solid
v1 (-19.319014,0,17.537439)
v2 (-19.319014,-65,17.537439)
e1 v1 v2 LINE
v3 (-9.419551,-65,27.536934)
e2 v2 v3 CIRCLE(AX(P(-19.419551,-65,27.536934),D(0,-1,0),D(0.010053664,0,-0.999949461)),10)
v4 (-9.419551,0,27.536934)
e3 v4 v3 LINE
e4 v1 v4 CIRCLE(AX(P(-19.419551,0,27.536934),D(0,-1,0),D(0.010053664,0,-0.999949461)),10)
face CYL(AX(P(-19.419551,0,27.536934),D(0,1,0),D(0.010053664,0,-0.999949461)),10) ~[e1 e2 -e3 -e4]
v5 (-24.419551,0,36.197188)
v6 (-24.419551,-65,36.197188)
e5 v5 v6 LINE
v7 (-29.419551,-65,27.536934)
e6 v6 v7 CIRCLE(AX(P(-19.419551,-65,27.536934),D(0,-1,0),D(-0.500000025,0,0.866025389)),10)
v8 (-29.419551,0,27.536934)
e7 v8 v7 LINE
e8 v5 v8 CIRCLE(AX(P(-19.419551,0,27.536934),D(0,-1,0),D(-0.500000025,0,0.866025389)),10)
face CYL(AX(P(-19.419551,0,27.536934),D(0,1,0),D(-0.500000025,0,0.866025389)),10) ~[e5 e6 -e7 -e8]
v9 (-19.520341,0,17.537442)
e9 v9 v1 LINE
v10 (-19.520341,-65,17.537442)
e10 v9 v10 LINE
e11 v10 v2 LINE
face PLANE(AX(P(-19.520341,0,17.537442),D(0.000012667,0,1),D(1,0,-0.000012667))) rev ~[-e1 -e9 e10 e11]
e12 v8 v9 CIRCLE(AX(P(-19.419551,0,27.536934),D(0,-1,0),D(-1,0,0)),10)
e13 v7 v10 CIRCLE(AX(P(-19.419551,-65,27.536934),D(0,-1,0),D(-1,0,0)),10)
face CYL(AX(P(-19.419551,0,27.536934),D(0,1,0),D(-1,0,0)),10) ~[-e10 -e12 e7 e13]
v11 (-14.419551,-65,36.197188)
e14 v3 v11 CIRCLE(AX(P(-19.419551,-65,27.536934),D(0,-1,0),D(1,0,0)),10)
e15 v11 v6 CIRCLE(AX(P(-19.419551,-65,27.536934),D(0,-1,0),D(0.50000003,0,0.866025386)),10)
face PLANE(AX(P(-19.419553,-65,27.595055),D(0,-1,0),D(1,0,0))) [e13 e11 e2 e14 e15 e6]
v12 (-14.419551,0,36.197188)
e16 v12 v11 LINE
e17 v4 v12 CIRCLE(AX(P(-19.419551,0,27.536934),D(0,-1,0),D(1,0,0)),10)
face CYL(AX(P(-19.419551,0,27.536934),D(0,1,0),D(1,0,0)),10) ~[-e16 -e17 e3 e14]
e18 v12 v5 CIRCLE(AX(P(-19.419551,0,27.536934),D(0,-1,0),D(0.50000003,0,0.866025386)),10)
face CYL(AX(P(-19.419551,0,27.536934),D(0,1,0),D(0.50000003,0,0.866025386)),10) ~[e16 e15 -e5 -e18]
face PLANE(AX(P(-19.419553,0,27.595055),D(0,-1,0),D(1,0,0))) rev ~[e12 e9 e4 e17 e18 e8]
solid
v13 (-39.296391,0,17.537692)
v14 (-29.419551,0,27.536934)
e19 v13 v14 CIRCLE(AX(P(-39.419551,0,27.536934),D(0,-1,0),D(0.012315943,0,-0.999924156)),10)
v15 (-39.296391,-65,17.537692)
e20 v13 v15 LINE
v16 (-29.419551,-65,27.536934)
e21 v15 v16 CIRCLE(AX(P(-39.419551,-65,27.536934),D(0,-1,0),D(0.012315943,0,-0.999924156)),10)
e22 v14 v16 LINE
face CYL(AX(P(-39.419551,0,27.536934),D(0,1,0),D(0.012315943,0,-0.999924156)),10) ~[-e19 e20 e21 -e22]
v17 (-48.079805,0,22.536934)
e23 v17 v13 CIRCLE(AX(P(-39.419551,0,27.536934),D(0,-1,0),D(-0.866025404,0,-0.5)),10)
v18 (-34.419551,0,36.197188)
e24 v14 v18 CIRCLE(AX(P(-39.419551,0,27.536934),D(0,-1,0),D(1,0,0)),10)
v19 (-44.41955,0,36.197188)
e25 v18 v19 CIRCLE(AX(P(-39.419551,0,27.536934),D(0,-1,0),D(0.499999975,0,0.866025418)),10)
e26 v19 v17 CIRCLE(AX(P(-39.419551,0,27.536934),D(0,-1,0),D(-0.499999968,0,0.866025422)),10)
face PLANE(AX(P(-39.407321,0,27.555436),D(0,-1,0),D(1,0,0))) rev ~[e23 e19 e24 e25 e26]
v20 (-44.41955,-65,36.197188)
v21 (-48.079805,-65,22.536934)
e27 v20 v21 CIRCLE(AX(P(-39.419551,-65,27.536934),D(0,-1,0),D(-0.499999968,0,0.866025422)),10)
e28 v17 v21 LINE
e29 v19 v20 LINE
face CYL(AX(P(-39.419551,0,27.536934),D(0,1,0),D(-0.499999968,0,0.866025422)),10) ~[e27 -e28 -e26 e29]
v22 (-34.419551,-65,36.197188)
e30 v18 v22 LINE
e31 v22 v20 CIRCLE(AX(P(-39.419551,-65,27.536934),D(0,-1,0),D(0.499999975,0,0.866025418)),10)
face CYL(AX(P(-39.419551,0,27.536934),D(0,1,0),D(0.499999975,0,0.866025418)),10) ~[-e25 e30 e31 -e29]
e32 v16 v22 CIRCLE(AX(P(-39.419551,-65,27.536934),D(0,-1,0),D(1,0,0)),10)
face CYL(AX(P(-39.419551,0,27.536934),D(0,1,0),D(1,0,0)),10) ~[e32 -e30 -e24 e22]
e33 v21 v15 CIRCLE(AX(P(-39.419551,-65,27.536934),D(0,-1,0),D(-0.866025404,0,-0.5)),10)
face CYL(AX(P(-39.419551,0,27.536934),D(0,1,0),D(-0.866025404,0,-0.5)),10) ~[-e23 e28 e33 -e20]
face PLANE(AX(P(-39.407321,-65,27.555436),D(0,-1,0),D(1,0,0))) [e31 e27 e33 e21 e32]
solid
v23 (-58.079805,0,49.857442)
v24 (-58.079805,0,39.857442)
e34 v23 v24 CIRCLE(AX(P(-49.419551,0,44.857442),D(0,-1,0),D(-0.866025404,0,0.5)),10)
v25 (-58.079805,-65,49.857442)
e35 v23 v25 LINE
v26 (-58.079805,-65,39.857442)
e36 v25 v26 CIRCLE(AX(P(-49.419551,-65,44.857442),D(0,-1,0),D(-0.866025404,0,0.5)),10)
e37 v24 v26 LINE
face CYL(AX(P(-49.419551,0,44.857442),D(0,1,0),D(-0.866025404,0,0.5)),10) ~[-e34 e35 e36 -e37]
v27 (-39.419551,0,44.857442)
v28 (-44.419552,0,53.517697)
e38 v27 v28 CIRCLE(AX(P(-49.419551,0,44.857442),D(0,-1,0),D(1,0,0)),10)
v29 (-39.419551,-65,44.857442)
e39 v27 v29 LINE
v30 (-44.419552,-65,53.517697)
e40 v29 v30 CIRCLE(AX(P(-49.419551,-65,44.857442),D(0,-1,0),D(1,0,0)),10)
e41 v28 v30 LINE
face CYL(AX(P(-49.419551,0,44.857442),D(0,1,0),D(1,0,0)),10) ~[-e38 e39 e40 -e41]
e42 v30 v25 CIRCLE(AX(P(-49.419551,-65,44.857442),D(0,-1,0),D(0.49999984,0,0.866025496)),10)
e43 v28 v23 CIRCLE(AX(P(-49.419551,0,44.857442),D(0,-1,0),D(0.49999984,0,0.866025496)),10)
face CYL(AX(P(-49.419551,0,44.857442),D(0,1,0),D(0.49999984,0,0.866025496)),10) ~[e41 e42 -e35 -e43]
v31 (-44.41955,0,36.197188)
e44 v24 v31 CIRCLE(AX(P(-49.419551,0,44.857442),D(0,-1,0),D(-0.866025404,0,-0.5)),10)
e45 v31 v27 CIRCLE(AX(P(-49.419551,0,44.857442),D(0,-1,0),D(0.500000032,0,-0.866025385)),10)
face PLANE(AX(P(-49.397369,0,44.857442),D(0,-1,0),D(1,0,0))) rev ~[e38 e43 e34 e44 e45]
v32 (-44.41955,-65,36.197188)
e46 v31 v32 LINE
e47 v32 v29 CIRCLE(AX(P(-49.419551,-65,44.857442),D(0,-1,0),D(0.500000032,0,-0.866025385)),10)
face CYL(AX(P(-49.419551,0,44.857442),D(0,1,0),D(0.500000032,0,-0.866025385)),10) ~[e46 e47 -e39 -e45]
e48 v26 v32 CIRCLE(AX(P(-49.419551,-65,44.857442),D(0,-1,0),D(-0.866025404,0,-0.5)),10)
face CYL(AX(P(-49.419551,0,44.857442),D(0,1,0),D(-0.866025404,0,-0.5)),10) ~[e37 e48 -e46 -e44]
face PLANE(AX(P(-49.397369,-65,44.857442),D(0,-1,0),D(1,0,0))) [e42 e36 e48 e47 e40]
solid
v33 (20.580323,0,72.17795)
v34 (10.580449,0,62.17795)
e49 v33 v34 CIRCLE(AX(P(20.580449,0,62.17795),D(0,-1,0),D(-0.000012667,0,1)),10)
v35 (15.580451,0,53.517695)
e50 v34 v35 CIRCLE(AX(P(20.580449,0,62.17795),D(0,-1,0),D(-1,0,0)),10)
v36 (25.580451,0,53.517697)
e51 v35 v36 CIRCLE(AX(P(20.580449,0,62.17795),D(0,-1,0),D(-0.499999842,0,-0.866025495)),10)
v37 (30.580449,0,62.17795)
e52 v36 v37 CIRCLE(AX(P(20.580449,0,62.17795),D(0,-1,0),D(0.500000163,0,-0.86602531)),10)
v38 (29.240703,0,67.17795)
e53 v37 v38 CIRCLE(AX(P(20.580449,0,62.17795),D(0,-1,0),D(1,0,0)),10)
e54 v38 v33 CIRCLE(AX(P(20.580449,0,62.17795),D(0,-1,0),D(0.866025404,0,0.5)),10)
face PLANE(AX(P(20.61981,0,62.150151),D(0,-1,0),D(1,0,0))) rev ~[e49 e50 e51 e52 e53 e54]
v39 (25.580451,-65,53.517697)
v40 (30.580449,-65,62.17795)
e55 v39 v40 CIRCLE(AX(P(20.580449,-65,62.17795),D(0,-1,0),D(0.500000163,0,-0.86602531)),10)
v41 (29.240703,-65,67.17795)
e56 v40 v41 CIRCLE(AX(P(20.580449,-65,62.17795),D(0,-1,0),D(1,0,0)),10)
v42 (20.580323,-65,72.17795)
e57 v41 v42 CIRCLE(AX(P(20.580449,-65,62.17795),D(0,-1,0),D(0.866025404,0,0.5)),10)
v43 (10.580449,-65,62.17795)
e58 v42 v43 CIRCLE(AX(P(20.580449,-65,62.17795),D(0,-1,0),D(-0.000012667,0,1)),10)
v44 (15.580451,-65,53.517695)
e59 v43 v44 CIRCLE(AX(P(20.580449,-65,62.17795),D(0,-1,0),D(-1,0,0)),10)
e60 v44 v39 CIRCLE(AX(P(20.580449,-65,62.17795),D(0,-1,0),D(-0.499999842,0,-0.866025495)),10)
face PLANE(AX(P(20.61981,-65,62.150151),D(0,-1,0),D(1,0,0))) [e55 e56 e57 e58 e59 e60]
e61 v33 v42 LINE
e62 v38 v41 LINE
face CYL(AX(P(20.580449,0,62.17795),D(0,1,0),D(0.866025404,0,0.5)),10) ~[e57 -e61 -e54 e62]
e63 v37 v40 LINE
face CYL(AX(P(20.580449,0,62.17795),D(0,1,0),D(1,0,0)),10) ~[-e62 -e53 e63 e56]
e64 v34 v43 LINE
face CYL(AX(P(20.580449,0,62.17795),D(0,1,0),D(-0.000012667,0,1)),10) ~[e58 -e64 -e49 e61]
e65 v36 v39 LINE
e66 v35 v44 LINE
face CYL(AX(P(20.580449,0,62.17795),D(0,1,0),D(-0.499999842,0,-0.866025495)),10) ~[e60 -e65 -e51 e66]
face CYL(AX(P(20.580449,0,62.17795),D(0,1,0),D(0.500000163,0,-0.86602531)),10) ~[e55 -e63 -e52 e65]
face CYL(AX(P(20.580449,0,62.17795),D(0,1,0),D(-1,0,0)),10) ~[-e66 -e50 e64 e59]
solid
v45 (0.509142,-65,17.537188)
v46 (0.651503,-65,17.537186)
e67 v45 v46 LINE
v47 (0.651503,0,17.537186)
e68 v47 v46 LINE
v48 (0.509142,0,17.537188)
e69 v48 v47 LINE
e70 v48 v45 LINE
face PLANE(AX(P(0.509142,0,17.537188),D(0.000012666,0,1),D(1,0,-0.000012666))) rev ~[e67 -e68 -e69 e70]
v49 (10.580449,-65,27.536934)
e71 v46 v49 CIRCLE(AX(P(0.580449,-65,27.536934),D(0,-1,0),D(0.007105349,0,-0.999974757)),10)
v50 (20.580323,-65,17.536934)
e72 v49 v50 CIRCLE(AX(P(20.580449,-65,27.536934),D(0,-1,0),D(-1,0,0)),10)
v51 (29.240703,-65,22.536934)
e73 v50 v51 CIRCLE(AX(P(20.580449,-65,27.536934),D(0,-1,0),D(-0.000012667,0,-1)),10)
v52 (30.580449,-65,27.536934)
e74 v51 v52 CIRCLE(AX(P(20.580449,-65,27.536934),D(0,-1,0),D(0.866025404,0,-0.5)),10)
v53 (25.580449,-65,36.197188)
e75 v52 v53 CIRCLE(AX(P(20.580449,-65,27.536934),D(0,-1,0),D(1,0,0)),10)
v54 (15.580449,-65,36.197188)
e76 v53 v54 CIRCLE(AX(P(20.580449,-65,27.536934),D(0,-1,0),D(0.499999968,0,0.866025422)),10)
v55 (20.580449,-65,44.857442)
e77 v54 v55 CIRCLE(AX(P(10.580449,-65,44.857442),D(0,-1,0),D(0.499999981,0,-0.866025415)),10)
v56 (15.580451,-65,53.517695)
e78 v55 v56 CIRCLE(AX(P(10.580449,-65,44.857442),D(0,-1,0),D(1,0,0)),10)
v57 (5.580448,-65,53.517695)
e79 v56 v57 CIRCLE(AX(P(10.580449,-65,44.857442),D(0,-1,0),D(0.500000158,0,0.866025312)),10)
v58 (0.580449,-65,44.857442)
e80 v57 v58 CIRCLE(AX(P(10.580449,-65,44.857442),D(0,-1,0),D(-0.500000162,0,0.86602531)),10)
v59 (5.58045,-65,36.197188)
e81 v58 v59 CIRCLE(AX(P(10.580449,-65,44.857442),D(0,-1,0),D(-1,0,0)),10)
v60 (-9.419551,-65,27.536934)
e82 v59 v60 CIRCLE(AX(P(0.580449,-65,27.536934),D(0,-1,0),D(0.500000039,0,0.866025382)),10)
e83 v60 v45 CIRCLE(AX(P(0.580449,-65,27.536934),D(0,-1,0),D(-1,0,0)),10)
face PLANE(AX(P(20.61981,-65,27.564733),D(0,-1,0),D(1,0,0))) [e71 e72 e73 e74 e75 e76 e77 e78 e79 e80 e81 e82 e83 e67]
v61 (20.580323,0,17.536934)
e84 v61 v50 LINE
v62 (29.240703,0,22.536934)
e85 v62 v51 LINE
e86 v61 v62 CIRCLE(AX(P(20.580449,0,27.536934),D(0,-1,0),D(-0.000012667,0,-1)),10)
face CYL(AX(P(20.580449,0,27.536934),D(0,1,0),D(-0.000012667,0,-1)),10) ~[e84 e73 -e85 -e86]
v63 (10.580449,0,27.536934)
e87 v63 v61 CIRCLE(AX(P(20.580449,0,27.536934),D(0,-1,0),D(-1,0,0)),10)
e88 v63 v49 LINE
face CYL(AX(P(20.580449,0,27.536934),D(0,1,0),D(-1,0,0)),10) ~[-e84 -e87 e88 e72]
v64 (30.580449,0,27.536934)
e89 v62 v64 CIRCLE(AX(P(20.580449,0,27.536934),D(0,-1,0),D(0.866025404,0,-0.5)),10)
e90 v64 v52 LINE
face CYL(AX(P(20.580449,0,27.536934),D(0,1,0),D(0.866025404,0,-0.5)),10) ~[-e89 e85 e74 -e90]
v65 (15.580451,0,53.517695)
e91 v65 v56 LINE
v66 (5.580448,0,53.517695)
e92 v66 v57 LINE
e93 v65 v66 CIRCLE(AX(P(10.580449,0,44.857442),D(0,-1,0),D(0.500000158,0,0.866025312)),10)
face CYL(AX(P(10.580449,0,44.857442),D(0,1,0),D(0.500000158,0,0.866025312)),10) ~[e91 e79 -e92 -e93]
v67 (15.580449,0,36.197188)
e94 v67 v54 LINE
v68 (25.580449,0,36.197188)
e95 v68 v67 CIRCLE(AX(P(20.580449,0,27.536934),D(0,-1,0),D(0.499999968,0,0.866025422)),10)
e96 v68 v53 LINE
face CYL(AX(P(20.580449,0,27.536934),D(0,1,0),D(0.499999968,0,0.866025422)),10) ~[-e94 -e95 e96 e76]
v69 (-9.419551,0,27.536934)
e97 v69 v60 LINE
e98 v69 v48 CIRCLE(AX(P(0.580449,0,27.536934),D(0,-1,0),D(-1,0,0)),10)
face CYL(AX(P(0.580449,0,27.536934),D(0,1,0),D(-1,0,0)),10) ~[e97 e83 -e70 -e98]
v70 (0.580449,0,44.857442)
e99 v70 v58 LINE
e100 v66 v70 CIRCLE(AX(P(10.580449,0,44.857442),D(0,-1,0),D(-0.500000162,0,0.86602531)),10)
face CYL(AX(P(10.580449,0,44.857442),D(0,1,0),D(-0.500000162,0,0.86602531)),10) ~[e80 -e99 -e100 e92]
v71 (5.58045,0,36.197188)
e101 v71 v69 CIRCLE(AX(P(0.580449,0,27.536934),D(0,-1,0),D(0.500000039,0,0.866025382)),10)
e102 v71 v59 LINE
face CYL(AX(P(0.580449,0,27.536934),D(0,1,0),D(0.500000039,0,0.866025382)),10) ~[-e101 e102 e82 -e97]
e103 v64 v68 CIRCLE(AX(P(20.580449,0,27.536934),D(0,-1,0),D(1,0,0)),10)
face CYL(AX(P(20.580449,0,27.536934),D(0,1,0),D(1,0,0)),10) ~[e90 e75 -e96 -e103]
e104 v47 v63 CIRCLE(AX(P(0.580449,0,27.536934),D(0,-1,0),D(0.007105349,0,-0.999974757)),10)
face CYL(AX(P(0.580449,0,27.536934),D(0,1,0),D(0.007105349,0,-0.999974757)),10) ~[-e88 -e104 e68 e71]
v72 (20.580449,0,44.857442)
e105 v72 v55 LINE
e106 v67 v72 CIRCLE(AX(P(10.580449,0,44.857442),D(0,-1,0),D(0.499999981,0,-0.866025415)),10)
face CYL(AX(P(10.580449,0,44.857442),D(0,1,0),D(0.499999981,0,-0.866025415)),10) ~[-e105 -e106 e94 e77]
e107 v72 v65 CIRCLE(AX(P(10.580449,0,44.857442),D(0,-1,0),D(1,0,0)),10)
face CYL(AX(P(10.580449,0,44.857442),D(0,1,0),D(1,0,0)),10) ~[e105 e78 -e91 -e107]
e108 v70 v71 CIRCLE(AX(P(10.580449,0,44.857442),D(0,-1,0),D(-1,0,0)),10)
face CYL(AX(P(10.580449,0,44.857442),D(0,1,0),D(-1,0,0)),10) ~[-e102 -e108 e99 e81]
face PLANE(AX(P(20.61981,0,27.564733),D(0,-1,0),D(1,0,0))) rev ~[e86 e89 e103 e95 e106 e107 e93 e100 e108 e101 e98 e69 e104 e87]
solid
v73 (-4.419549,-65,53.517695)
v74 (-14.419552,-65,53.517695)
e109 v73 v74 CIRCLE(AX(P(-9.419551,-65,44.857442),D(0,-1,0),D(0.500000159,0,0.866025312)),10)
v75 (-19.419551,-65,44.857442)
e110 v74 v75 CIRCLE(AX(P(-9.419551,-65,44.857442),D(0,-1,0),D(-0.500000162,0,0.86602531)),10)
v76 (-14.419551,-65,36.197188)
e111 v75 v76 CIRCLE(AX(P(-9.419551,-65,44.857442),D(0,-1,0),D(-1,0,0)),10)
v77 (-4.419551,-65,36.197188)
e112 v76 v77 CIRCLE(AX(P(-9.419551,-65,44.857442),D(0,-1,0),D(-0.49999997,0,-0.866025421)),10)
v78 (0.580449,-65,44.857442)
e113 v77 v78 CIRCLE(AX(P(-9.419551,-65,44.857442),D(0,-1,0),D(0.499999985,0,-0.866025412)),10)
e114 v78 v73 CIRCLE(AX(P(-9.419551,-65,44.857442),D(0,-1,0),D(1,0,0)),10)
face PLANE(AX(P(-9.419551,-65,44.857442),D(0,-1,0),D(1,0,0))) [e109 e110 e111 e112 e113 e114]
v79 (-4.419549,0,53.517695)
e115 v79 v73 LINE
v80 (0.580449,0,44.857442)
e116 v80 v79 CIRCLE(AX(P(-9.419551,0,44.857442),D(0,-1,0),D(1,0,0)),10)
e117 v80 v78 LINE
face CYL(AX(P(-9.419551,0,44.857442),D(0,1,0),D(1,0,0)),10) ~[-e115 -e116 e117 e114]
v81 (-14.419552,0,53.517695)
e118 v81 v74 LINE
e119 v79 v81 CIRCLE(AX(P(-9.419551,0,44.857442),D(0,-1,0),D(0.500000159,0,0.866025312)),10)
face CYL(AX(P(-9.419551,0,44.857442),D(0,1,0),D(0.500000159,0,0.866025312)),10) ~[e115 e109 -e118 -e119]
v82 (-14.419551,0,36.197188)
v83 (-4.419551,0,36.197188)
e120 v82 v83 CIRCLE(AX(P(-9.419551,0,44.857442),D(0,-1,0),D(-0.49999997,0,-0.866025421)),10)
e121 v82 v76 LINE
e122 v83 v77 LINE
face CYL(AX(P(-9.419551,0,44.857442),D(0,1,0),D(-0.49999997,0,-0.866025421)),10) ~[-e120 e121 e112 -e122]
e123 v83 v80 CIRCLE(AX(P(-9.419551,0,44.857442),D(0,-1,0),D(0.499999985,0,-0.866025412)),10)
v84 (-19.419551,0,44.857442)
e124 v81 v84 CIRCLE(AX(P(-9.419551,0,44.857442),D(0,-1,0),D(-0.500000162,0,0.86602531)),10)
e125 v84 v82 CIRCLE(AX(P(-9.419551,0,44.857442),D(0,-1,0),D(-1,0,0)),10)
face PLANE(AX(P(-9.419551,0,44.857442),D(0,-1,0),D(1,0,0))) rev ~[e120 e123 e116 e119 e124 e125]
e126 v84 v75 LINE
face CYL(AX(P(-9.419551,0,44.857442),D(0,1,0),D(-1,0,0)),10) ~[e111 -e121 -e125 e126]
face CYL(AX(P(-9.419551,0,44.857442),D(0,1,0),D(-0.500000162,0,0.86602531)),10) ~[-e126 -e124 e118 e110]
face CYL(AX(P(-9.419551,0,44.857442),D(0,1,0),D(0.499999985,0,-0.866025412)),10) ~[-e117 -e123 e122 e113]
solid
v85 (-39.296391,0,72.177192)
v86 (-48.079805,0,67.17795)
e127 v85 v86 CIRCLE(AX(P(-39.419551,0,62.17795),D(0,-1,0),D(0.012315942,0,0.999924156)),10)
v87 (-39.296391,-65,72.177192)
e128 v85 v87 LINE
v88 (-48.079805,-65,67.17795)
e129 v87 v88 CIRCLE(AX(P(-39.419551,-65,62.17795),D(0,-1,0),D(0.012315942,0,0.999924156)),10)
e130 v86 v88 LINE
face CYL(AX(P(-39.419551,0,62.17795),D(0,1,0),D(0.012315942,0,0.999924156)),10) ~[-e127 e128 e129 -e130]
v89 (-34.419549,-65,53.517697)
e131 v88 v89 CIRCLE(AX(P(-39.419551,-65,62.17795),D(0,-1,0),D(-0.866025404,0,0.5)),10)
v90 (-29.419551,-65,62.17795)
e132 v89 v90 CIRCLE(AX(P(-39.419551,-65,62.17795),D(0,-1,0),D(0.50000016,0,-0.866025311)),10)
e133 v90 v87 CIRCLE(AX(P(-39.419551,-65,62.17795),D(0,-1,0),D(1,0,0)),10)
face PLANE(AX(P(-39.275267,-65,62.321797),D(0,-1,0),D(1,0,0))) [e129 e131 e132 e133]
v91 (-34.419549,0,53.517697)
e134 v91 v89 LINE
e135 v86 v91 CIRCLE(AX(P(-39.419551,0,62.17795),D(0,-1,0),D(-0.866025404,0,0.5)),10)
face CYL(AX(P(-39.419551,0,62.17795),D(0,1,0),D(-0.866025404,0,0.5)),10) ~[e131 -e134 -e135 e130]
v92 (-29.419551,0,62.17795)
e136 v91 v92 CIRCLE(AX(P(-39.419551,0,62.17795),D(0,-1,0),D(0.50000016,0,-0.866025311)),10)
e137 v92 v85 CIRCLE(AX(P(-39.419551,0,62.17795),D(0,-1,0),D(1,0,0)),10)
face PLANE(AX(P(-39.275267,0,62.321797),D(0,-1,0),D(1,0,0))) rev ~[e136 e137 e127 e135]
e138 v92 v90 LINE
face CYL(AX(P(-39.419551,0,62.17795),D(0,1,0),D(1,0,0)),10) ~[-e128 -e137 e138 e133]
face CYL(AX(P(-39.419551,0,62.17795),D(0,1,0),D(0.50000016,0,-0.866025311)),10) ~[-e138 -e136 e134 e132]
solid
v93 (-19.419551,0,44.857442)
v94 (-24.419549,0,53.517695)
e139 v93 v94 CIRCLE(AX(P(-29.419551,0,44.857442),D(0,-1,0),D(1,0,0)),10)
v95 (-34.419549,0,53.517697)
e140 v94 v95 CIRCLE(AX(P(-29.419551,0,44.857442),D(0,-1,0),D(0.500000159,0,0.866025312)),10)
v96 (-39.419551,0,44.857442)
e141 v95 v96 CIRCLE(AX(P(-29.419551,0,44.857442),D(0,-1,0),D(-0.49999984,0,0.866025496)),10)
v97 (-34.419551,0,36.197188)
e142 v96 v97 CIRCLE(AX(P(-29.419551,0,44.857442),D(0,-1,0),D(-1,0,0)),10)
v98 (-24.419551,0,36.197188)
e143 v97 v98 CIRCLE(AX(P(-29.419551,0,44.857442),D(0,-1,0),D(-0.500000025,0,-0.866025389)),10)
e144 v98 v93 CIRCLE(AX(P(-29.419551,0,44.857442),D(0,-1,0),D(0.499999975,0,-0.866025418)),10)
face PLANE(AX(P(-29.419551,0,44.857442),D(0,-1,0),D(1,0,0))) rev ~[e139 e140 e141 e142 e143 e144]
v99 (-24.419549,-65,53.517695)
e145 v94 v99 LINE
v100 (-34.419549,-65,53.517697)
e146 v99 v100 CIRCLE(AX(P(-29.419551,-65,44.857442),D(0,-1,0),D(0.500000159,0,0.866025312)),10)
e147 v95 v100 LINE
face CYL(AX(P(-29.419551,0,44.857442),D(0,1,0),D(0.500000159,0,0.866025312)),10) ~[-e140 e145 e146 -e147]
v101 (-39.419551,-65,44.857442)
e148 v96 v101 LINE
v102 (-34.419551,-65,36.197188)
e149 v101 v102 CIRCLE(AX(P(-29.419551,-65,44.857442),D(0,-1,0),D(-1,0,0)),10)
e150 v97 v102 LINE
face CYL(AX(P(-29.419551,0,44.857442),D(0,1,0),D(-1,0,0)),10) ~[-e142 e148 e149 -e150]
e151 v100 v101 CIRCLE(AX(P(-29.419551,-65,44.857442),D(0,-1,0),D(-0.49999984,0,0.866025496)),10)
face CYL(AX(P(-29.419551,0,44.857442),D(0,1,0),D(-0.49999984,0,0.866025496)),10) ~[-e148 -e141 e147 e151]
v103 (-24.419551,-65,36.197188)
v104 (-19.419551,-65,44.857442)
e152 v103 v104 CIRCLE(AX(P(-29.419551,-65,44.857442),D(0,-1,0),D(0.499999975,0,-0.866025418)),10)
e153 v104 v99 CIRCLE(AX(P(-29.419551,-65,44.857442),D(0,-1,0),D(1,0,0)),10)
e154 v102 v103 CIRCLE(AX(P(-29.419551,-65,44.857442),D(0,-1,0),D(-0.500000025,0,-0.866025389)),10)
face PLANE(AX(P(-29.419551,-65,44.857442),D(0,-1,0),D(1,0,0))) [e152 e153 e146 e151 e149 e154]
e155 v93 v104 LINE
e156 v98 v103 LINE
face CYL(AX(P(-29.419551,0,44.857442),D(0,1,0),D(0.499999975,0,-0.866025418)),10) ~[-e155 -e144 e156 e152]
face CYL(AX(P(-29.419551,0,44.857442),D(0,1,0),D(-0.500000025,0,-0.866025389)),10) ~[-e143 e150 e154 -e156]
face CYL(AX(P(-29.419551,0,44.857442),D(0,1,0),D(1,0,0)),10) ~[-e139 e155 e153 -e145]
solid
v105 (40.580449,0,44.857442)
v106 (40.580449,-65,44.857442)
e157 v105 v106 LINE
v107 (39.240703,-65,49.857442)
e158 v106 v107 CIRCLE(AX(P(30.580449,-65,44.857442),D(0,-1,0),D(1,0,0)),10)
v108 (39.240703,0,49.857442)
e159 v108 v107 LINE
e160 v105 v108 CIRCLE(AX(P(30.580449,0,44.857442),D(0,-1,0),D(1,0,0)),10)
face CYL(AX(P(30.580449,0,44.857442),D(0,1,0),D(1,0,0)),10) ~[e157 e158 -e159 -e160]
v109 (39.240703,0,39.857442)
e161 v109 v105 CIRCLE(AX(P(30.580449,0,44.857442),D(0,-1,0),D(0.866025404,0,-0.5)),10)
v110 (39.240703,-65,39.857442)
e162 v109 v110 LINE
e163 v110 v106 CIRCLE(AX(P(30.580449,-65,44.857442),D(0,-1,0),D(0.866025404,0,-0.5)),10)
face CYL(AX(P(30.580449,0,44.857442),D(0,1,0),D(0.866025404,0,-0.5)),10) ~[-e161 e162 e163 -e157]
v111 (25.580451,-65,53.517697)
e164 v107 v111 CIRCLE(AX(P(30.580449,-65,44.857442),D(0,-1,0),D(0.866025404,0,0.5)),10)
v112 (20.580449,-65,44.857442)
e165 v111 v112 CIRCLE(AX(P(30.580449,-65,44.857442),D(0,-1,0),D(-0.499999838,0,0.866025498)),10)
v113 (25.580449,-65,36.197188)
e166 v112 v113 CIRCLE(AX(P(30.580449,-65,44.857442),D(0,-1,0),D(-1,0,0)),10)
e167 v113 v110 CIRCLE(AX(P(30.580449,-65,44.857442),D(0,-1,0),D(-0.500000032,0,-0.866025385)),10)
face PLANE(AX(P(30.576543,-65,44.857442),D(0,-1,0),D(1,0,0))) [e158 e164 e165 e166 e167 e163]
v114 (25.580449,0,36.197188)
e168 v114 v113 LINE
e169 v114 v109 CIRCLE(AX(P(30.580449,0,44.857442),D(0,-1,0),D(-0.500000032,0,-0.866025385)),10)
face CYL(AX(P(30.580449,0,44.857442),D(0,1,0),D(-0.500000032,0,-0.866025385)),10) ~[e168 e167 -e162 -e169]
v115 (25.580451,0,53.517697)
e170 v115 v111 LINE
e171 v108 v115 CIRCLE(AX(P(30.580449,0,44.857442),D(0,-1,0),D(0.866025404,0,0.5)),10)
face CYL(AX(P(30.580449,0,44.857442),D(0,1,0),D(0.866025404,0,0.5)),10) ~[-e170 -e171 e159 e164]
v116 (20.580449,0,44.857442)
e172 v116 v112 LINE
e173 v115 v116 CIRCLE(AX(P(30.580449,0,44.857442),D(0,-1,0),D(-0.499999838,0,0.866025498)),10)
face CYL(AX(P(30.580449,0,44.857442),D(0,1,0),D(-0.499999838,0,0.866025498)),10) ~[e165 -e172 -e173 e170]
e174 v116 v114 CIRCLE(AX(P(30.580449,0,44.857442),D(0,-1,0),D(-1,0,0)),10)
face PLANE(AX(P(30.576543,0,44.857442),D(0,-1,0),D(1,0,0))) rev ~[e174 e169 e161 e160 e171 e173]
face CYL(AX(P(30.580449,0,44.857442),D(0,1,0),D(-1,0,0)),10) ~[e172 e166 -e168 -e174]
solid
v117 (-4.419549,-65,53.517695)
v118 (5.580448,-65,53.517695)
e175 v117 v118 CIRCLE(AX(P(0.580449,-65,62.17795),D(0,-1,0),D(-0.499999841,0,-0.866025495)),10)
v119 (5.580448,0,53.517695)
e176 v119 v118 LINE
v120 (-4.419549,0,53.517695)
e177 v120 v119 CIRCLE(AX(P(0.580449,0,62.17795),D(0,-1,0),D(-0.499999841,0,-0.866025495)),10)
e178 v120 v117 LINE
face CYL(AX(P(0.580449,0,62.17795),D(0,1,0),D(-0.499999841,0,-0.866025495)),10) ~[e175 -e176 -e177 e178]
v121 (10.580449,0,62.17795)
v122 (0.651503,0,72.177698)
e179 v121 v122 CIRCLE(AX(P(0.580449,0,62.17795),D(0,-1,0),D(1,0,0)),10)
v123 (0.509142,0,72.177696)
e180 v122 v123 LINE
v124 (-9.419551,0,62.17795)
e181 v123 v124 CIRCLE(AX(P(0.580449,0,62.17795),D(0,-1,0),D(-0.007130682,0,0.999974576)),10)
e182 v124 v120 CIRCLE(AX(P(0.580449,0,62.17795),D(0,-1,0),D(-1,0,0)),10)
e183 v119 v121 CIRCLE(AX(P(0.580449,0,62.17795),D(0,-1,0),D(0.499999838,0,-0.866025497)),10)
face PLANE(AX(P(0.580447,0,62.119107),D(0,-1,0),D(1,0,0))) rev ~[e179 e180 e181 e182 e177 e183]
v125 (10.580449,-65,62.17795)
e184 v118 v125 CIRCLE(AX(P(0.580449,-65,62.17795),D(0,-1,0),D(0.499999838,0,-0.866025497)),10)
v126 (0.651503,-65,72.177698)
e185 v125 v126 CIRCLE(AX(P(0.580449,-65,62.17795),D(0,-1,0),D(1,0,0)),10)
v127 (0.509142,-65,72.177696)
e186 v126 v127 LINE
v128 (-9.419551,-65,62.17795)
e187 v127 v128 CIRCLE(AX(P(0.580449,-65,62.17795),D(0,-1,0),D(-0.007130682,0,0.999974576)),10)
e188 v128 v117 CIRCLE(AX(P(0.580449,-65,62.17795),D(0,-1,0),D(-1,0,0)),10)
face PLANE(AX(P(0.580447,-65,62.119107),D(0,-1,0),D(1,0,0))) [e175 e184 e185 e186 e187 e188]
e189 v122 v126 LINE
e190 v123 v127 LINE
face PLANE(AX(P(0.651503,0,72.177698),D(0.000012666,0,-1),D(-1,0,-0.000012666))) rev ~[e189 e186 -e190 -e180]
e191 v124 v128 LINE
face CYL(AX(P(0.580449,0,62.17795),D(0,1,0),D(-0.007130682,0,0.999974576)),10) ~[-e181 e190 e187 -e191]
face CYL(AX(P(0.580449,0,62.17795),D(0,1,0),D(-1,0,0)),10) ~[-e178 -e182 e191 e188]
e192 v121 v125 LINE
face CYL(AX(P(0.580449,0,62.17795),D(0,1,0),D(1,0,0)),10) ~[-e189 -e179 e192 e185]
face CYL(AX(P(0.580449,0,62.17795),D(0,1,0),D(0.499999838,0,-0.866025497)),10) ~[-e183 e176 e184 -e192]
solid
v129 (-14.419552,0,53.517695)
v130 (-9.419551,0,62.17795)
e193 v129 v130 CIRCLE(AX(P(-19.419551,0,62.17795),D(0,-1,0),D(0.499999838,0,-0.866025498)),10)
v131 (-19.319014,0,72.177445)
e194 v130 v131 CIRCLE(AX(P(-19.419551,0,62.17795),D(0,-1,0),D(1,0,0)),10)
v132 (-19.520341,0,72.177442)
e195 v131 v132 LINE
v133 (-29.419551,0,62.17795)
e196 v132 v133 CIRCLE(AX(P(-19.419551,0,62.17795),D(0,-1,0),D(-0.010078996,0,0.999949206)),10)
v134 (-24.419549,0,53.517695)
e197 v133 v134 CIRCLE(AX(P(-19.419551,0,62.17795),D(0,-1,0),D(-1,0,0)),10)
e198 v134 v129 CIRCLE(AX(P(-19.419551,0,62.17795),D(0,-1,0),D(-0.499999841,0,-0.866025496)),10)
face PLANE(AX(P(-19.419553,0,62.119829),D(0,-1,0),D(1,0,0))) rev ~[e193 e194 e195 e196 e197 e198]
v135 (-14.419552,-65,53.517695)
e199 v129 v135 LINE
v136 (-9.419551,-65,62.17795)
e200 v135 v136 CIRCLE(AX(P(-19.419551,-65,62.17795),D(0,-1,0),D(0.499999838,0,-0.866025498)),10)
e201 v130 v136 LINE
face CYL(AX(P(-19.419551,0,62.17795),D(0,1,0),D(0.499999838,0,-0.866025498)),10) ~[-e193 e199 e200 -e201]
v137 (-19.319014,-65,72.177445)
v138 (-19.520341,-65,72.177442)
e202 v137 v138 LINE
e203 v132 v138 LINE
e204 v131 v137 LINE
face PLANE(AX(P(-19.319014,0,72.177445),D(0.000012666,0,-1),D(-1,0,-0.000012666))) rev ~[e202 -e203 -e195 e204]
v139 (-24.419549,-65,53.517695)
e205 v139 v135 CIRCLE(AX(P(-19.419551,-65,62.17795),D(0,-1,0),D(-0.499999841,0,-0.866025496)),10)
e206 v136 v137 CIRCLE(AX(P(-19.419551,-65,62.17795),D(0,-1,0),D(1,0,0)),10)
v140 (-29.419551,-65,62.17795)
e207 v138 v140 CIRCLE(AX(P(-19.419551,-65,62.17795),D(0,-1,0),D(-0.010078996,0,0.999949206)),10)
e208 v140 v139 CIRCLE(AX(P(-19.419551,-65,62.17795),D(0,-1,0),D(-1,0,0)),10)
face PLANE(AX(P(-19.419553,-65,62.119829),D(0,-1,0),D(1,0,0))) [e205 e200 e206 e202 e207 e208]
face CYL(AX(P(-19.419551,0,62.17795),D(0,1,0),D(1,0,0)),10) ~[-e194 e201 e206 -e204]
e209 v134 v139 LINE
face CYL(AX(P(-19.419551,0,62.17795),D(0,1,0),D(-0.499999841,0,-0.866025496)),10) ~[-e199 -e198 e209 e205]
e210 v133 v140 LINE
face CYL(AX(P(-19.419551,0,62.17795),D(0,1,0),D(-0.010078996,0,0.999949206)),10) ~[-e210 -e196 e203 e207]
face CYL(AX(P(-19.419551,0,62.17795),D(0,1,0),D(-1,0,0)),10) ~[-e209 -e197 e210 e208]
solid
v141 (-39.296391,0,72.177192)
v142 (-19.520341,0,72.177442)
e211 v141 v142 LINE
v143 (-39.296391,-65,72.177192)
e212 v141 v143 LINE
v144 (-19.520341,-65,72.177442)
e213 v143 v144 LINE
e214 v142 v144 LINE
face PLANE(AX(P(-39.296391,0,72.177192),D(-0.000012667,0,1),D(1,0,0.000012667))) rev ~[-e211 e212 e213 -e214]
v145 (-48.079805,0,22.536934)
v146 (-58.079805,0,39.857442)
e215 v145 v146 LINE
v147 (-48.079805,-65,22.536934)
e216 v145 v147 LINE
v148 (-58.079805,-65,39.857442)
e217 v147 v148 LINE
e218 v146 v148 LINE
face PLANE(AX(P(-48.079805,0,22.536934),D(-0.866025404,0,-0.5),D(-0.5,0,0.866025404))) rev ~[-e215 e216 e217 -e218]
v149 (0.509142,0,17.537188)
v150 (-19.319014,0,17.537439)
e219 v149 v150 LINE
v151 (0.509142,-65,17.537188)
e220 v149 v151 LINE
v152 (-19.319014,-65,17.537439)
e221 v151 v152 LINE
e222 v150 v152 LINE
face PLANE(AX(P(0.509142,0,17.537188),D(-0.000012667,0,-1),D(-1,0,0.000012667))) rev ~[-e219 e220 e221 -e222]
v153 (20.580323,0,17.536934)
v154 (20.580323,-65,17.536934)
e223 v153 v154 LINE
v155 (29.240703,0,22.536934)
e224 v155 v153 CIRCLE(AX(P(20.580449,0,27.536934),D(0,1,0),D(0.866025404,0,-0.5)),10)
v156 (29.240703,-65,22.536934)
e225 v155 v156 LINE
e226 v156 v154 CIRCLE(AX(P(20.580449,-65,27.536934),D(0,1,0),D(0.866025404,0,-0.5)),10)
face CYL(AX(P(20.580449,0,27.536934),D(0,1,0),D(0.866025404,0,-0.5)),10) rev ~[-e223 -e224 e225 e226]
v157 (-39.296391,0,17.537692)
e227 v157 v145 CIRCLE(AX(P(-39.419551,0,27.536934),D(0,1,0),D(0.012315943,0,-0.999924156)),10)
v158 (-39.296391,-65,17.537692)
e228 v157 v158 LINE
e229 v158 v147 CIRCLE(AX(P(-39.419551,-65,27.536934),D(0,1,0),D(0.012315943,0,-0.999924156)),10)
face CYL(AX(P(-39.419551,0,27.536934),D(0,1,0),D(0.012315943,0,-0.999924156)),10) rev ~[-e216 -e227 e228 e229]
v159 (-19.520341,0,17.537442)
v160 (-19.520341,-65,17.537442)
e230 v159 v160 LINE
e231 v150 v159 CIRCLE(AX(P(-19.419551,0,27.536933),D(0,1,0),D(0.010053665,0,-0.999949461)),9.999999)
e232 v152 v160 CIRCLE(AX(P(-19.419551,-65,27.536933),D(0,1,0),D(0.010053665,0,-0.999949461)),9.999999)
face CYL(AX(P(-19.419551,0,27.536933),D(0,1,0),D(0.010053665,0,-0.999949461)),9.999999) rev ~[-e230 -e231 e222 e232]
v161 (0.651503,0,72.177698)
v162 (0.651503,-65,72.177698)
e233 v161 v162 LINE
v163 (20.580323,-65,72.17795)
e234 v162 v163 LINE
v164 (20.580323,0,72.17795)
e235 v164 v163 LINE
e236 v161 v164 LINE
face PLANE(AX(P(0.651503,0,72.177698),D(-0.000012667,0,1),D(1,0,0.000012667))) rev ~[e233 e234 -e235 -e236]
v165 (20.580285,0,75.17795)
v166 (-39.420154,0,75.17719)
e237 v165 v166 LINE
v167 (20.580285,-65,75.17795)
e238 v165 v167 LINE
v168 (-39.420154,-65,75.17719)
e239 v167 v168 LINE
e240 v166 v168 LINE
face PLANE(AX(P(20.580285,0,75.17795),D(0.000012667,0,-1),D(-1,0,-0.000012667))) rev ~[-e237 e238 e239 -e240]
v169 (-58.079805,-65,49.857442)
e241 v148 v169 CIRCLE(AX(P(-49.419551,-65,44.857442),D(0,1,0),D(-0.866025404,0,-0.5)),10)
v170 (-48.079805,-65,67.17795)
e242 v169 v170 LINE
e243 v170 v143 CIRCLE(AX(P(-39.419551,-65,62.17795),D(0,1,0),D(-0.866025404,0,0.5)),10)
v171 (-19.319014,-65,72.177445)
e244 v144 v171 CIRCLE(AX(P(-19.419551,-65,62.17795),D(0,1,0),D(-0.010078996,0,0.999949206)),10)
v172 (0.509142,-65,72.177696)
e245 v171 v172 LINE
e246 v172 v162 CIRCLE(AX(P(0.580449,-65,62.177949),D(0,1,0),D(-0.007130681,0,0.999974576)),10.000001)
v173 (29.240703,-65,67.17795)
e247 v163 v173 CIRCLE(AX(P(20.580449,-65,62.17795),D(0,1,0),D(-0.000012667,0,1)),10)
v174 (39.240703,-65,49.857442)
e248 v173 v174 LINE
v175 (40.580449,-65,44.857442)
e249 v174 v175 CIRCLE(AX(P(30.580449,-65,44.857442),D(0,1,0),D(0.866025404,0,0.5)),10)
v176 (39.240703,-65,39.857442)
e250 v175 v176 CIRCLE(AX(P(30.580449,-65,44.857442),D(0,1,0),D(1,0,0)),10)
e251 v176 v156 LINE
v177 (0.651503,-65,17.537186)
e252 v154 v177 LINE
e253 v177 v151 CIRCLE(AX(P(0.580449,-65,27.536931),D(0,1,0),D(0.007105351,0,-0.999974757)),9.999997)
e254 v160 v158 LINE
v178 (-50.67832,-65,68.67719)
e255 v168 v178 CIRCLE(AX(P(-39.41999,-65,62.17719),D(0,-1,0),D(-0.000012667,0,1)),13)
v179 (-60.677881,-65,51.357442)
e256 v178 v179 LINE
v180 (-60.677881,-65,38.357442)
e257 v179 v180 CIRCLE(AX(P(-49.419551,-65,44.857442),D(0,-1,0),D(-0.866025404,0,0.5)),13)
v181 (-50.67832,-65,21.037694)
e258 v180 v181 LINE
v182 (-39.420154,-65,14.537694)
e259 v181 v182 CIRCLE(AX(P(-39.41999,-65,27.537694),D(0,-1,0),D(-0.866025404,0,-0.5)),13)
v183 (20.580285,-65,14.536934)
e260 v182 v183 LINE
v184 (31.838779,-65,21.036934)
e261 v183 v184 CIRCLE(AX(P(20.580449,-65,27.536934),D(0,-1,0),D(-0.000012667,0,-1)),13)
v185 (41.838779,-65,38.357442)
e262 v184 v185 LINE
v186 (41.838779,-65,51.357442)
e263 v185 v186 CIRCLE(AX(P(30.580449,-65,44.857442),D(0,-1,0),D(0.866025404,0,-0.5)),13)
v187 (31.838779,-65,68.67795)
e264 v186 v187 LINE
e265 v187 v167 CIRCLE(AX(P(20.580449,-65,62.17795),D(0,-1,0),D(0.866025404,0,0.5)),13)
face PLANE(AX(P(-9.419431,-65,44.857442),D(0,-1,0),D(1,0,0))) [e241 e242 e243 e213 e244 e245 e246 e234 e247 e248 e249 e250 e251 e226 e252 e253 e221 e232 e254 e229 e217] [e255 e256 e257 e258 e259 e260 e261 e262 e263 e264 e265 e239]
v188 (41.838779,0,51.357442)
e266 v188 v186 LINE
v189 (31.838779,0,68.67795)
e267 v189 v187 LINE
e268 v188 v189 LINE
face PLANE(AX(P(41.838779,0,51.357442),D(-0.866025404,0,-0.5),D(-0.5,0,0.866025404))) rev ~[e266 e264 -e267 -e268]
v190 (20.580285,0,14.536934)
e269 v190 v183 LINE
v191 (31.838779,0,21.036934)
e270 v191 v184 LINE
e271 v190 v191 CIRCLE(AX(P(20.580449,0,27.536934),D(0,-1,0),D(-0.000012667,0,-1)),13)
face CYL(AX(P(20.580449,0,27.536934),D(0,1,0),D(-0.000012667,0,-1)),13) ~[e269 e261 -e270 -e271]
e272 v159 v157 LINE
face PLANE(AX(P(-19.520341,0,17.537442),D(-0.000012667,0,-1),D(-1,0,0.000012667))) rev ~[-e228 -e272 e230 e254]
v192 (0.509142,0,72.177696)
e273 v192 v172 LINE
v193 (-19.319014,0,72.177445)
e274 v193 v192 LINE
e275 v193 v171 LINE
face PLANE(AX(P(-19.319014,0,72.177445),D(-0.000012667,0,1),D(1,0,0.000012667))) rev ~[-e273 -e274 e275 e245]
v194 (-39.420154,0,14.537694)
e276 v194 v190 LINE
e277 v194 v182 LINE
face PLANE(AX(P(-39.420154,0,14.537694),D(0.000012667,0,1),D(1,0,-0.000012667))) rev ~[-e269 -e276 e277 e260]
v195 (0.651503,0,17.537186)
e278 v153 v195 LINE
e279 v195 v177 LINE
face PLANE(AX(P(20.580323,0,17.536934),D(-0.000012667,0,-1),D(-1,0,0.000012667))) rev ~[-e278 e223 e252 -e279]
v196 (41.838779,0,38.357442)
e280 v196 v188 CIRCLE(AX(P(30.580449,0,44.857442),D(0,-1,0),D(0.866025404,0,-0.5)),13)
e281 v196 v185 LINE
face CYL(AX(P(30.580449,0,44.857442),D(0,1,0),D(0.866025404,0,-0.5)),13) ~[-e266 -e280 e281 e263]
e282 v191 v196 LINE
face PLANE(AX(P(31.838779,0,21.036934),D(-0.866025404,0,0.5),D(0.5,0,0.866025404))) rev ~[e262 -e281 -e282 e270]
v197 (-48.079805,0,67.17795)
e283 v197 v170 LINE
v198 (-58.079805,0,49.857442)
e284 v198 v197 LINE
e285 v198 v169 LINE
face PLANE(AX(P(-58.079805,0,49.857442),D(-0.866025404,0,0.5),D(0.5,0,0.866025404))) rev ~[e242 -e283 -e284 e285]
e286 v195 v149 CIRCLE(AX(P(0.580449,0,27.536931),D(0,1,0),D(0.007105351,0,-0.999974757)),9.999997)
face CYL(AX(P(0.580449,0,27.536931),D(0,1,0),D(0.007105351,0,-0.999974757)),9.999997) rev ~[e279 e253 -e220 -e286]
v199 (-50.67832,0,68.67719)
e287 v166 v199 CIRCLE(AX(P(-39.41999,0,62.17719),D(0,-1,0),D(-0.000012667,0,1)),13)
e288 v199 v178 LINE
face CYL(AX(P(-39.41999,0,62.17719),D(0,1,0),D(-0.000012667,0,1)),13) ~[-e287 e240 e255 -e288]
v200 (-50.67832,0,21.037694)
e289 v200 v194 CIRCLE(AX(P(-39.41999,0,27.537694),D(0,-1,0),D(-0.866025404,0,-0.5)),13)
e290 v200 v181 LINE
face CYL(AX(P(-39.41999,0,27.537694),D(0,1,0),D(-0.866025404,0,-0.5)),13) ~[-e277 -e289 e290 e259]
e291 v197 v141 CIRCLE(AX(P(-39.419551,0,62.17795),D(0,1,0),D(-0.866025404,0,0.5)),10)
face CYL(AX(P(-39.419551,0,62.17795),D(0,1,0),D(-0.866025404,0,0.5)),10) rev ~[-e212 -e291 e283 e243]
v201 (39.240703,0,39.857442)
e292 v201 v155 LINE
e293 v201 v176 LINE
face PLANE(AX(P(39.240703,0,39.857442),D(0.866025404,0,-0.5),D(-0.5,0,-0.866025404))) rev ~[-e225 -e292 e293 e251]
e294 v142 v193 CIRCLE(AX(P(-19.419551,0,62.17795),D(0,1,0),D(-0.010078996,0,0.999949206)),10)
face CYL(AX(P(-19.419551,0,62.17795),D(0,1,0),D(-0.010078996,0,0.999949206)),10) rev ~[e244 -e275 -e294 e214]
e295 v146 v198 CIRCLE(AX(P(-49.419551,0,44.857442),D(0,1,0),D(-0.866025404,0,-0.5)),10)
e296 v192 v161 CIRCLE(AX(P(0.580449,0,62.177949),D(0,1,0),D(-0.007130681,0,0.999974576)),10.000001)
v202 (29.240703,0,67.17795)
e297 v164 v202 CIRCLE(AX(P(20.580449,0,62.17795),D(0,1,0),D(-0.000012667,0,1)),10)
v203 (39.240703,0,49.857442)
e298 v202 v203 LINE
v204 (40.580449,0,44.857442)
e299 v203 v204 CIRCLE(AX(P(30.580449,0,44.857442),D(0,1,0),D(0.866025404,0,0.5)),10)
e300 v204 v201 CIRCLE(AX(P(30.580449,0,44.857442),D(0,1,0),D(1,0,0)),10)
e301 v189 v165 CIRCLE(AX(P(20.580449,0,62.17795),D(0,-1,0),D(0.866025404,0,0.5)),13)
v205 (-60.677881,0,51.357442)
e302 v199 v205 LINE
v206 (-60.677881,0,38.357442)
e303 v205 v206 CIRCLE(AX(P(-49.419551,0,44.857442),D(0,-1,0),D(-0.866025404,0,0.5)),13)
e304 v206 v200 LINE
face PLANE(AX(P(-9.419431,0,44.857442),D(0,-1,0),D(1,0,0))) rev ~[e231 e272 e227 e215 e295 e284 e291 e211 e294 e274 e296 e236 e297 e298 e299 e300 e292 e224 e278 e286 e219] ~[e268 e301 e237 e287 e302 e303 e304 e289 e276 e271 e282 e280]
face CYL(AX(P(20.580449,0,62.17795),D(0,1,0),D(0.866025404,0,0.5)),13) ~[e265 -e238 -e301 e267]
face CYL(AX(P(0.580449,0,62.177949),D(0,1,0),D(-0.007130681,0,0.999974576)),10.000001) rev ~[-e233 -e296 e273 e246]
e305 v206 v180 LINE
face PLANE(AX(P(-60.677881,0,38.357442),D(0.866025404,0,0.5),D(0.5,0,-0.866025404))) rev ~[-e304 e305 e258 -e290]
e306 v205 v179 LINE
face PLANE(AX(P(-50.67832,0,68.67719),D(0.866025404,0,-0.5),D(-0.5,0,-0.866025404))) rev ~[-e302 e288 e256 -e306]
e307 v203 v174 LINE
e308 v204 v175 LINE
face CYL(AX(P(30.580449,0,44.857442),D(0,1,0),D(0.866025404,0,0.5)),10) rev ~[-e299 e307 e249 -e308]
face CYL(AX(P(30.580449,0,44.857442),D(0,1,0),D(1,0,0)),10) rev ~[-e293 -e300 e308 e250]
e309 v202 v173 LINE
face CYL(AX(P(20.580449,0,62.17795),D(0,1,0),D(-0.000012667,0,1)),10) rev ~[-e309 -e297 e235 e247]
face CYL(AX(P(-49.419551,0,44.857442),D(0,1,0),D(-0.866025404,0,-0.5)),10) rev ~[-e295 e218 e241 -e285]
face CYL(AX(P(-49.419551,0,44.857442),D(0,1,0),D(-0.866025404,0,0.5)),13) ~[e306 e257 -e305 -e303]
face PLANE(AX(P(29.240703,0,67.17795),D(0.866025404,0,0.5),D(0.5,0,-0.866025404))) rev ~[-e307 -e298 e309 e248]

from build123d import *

# Parameters (mm, degrees)
F1_DEPTH = 65
F2_DEPTH = 65


with BuildPart() as f1:
    # F0 (on Front) → F1 (new body)
    with BuildSketch(Plane.XZ):
        with BuildLine():
            ThreePointArc((10.580449191, 62.1779500274), (11.9201956106, 57.1779492352), (15.5804507755, 53.5176950748))
            ThreePointArc((15.5804507755, 53.5176950748), (20.580451044, 52.1779500274), (25.580450816, 53.5176969278))
            ThreePointArc((25.580450816, 53.5176969278), (29.2407036979, 57.17795084), (30.580449191, 62.1779500274))
            ThreePointArc((30.580449191, 62.1779500274), (30.2397074539, 64.7661404784), (29.2407032288, 67.1779500274))
            ThreePointArc((29.2407032288, 67.1779500274), (25.5803943425, 70.8382357318), (20.580322524, 72.1779500266))
            ThreePointArc((20.580322524, 72.1779500266), (13.5093365957, 69.2489730556), (10.580449191, 62.1779500274))
        make_face()
    extrude(amount=F1_DEPTH)


with BuildPart() as f1b:
    # F0 (on Front) → F1, piece 2 (new body)
    with BuildSketch(Plane.XZ):
        with BuildLine():
            ThreePointArc((25.580450816, 53.5176969278), (21.9201956223, 49.8574427643), (20.580449191, 44.8574419517))
            ThreePointArc((20.580449191, 44.8574419517), (21.9201950608, 39.8574421117), (25.580448871, 36.1971880986))
            ThreePointArc((25.580448871, 36.1971880986), (33.1686394636, 35.198183641), (39.2407032288, 39.8574419517))
            ThreePointArc((39.2407032288, 39.8574419517), (40.2397074539, 42.2692515007), (40.580449191, 44.8574419517))
            ThreePointArc((40.580449191, 44.8574419517), (40.2397074539, 47.4456324028), (39.2407032288, 49.8574419517))
            ThreePointArc((39.2407032288, 49.8574419517), (33.1686405483, 54.5166999718), (25.580450816, 53.5176969278))
        make_face()
    extrude(amount=F1_DEPTH)


with BuildPart() as f1c:
    # F0 (on Front) → F1, piece 3 (new body)
    with BuildSketch(Plane.XZ):
        with BuildLine():
            ThreePointArc((25.580448871, 36.1971880986), (20.5804488945, 37.536933876), (15.5804489975, 36.1971878022))
            ThreePointArc((15.5804489975, 36.1971878022), (11.9201950973, 32.5369337793), (10.580449191, 27.536933876))
            ThreePointArc((10.580449191, 27.536933876), (13.5093365957, 20.4659108479), (20.580322524, 17.5369338768))
            ThreePointArc((20.580322524, 17.5369338768), (25.5803943425, 18.8766481716), (29.2407032288, 22.536933876))
            ThreePointArc((29.2407032288, 22.536933876), (30.2397074539, 24.948743425), (30.580449191, 27.536933876))
            ThreePointArc((30.580449191, 27.536933876), (29.2407031365, 32.536934036), (25.580448871, 36.1971880986))
        make_face()
        with BuildLine():
            ThreePointArc((5.5804475737, 53.5176950558), (1.9201946863, 49.8574411431), (0.580449191, 44.8574419517))
            ThreePointArc((0.580449191, 44.8574419517), (1.9201952644, 39.857441759), (5.5804495765, 36.1971876913))
            ThreePointArc((5.5804495765, 36.1971876913), (10.5804493018, 34.8574419517), (15.5804489975, 36.1971878022))
            ThreePointArc((15.5804489975, 36.1971878022), (19.240703173, 39.857441855), (20.580449191, 44.8574419517))
            ThreePointArc((20.580449191, 44.8574419517), (19.2407036862, 49.8574411595), (15.5804507755, 53.5176950748))
            ThreePointArc((15.5804507755, 53.5176950748), (10.5804491721, 54.8574419517), (5.5804475737, 53.5176950558))
        make_face()
        with BuildLine():
            ThreePointArc((15.5804489975, 36.1971878022), (10.5804493018, 34.8574419517), (5.5804495765, 36.1971876913))
            ThreePointArc((5.5804495765, 36.1971876913), (9.2407033401, 32.5369336833), (10.580449191, 27.536933876))
            ThreePointArc((10.580449191, 27.536933876), (11.9201950973, 32.5369337793), (15.5804489975, 36.1971878022))
        make_face()
        with BuildLine():
            ThreePointArc((5.5804495765, 36.1971876913), (0.580449328, 37.536933876), (-4.4195509572, 36.1971878283))
            ThreePointArc((-4.4195509572, 36.1971878283), (-8.0798048896, 32.536933802), (-9.419550809, 27.536933876))
            ThreePointArc((-9.419550809, 27.536933876), (-6.5157846053, 20.491121935), (0.5091423726, 17.5371881124))
            Line((0.5091423726, 17.5371881124), (0.6515026818, 17.5371863092))
            ThreePointArc((0.6515026818, 17.5371863092), (7.6765937396, 20.4910320498), (10.580449191, 27.536933876))
            ThreePointArc((10.580449191, 27.536933876), (9.2407033401, 32.5369336833), (5.5804495765, 36.1971876913))
        make_face()
    extrude(amount=F1_DEPTH)


with BuildPart() as f1d:
    # F0 (on Front) → F1, piece 4 (new body)
    with BuildSketch(Plane.XZ):
        with BuildLine():
            ThreePointArc((-9.419550809, 62.1779500274), (-8.0798043884, 57.1779492333), (-4.4195492208, 53.5176950726))
            ThreePointArc((-4.4195492208, 53.5176950726), (0.5804491742, 52.1779500274), (5.5804475737, 53.5176950558))
            ThreePointArc((5.5804475737, 53.5176950558), (9.240702762, 57.1779492188), (10.580449191, 62.1779500274))
            ThreePointArc((10.580449191, 62.1779500274), (7.6765937395, 69.2238518537), (0.6515026818, 72.1776975943))
            Line((0.6515026818, 72.1776975943), (0.5091423727, 72.1776957911))
            ThreePointArc((0.5091423727, 72.1776957911), (-6.5157846053, 69.2237619685), (-9.419550809, 62.1779500274))
        make_face()
    extrude(amount=F1_DEPTH)


with BuildPart() as f1e:
    # F0 (on Front) → F1, piece 5 (new body)
    with BuildSketch(Plane.XZ):
        with BuildLine():
            ThreePointArc((-14.4195524329, 53.517695052), (-18.0798053156, 49.8574411398), (-19.419550809, 44.8574419517))
            ThreePointArc((-19.419550809, 44.8574419517), (-18.0798047604, 39.8574418019), (-14.4195505094, 36.1971877409))
            ThreePointArc((-14.4195505094, 36.1971877409), (-9.4195507216, 34.8574419517), (-4.4195509572, 36.1971878283))
            ThreePointArc((-4.4195509572, 36.1971878283), (-0.7592968139, 39.8574418776), (0.580449191, 44.8574419517))
            ThreePointArc((0.580449191, 44.8574419517), (-0.7592963127, 49.8574411576), (-4.4195492208, 53.5176950726))
            ThreePointArc((-4.4195492208, 53.5176950726), (-9.4195508297, 54.8574419517), (-14.4195524329, 53.517695052))
        make_face()
    extrude(amount=F1_DEPTH)


with BuildPart() as f1f:
    # F0 (on Front) → F1, piece 6 (new body)
    with BuildSketch(Plane.XZ):
        with BuildLine():
            ThreePointArc((-29.419550809, 62.1779500274), (-28.0798043872, 57.1779492313), (-24.4195492167, 53.5176950703))
            ThreePointArc((-24.4195492167, 53.5176950703), (-19.4195508273, 52.1779500274), (-14.4195524329, 53.517695052))
            ThreePointArc((-14.4195524329, 53.517695052), (-10.75929724, 57.1779492155), (-9.419550809, 62.1779500274))
            ThreePointArc((-9.419550809, 62.1779500274), (-12.3130268198, 69.2133829772), (-19.3190141672, 72.1774446338))
            Line((-19.3190141672, 72.1774446338), (-19.520340772, 72.1774420837))
            ThreePointArc((-19.520340772, 72.1774420837), (-26.5261639133, 69.2132929604), (-29.419550809, 62.1779500274))
        make_face()
    extrude(amount=F1_DEPTH)


with BuildPart() as f1g:
    # F0 (on Front) → F1, piece 7 (new body)
    with BuildSketch(Plane.XZ):
        with BuildLine():
            ThreePointArc((-48.0798048469, 67.1779500274), (-49.0788093117, 59.5897604714), (-44.4195524138, 53.5176969161))
            ThreePointArc((-44.4195524138, 53.5176969161), (-39.419550809, 52.1779500274), (-34.4195492042, 53.5176969161))
            ThreePointArc((-34.4195492042, 53.5176969161), (-30.7592963079, 57.1779508298), (-29.419550809, 62.1779500274))
            ThreePointArc((-29.419550809, 62.1779500274), (-32.3050728151, 69.2053395053), (-39.2963913838, 72.1771915865))
            ThreePointArc((-39.2963913838, 72.1771915865), (-44.3661253963, 70.8688302965), (-48.0798048469, 67.1779500274))
        make_face()
    extrude(amount=F1_DEPTH)


with BuildPart() as f1h:
    # F0 (on Front) → F1, piece 8 (new body)
    with BuildSketch(Plane.XZ):
        with BuildLine():
            ThreePointArc((-34.4195492042, 53.5176969161), (-38.0798043836, 49.8574427541), (-39.419550809, 44.8574419517))
            ThreePointArc((-39.419550809, 44.8574419517), (-38.0798049203, 39.8574420789), (-34.4195510633, 36.1971880607))
            ThreePointArc((-34.4195510633, 36.1971880607), (-29.4195510999, 34.8574419517), (-24.4195510585, 36.1971877698))
            ThreePointArc((-24.4195510585, 36.1971877698), (-20.7592968432, 39.857441827), (-19.419550809, 44.8574419517))
            ThreePointArc((-19.419550809, 44.8574419517), (-20.7592963115, 49.8574411556), (-24.4195492167, 53.5176950703))
            ThreePointArc((-24.4195492167, 53.5176950703), (-29.4195489632, 54.8574419517), (-34.4195492042, 53.5176969161))
        make_face()
    extrude(amount=F1_DEPTH)


with BuildPart() as f1i:
    # F0 (on Front) → F1, piece 9 (new body)
    with BuildSketch(Plane.XZ):
        with BuildLine():
            ThreePointArc((-14.4195505094, 36.1971877409), (-19.4195507801, 37.536933876), (-24.4195510585, 36.1971877698))
            ThreePointArc((-24.4195510585, 36.1971877698), (-28.0798049189, 32.5369337513), (-29.419550809, 27.536933876))
            ThreePointArc((-29.419550809, 27.536933876), (-26.5261639134, 20.501590943), (-19.520340772, 17.5374418198))
            Line((-19.520340772, 17.5374418198), (-19.3190141671, 17.5374392696))
            ThreePointArc((-19.3190141671, 17.5374392696), (-12.3130268198, 20.5015009263), (-9.419550809, 27.536933876))
            ThreePointArc((-9.419550809, 27.536933876), (-10.7592966847, 32.5369337262), (-14.4195505094, 36.1971877409))
        make_face()
    extrude(amount=F1_DEPTH)


with BuildPart() as f1j:
    # F0 (on Front) → F1, piece 10 (new body)
    with BuildSketch(Plane.XZ):
        with BuildLine():
            ThreePointArc((-34.4195510633, 36.1971880607), (-39.4195507711, 37.536933876), (-44.4195504891, 36.1971880986))
            ThreePointArc((-44.4195504891, 36.1971880986), (-49.0788090241, 30.1251245055), (-48.0798048469, 22.536933876))
            ThreePointArc((-48.0798048469, 22.536933876), (-44.3661253963, 18.8460536069), (-39.2963913838, 17.537692317))
            ThreePointArc((-39.2963913838, 17.537692317), (-32.3050728151, 20.5095443981), (-29.419550809, 27.536933876))
            ThreePointArc((-29.419550809, 27.536933876), (-30.7592968446, 32.5369340032), (-34.4195510633, 36.1971880607))
        make_face()
    extrude(amount=F1_DEPTH)


with BuildPart() as f1k:
    # F0 (on Front) → F1, piece 11 (new body)
    with BuildSketch(Plane.XZ):
        with BuildLine():
            ThreePointArc((-44.4195524138, 53.5176969161), (-52.007742155, 54.5166999748), (-58.0798048469, 49.8574419517))
            ThreePointArc((-58.0798048469, 49.8574419517), (-59.419550809, 44.8574419517), (-58.0798048469, 39.8574419517))
            ThreePointArc((-58.0798048469, 39.8574419517), (-52.0077410816, 35.198183641), (-44.4195504891, 36.1971880986))
            ThreePointArc((-44.4195504891, 36.1971880986), (-40.7592966788, 39.8574421117), (-39.419550809, 44.8574419517))
            ThreePointArc((-39.419550809, 44.8574419517), (-40.7592972344, 49.8574427541), (-44.4195524138, 53.5176969161))
        make_face()
    extrude(amount=F1_DEPTH)


with BuildPart() as f2:
    # F0 (on Front) → F2 (new body)
    with BuildSketch(Plane.XZ):
        with BuildLine():
            Line((20.5802845239, 75.1779500264), (-39.4201542665, 75.177190019))
            ThreePointArc((-39.4201542665, 75.177190019), (-45.9200609023, 73.4354791023), (-50.6783198487, 68.6771900201))
            Line((-50.6783198487, 68.6771900201), (-60.6778810582, 51.3574419517))
            ThreePointArc((-60.6778810582, 51.3574419517), (-62.419550809, 44.8574419517), (-60.6778810582, 38.3574419517))
            Line((-60.6778810582, 38.3574419517), (-50.6783198487, 21.0376938834))
            ThreePointArc((-50.6783198487, 21.0376938834), (-45.9200609023, 16.2794048012), (-39.4201542665, 14.5376938844))
            Line((-39.4201542665, 14.5376938844), (20.5802845239, 14.5369338771))
            ThreePointArc((20.5802845239, 14.5369338771), (27.0803778879, 16.2785624603), (31.8387794402, 21.036933876))
            Line((31.8387794402, 21.036933876), (41.8387794402, 38.3574419517))
            ThreePointArc((41.8387794402, 38.3574419517), (43.580449191, 44.8574419517), (41.8387794402, 51.3574419517))
            Line((41.8387794402, 51.3574419517), (31.8387794402, 68.6779500274))
            ThreePointArc((31.8387794402, 68.6779500274), (27.0803778879, 73.4363214432), (20.5802845239, 75.1779500264))
        make_face()
        with BuildLine():
            ThreePointArc((-58.0798048469, 39.8574419517), (-59.419550809, 44.8574419517), (-58.0798048469, 49.8574419517))
            Line((-58.0798048469, 49.8574419517), (-48.0798048469, 67.1779500274))
            ThreePointArc((-48.0798048469, 67.1779500274), (-44.3661253963, 70.8688302965), (-39.2963913838, 72.1771915865))
            Line((-39.2963913838, 72.1771915865), (-19.520340772, 72.1774420837))
            ThreePointArc((-19.520340772, 72.1774420837), (-19.419677476, 72.1779500266), (-19.3190141672, 72.1774446338))
            Line((-19.3190141672, 72.1774446338), (0.5091423727, 72.1776957911))
            ThreePointArc((0.5091423727, 72.1776957911), (0.580322524, 72.1779500266), (0.6515026818, 72.1776975943))
            Line((0.6515026818, 72.1776975943), (20.580322524, 72.1779500266))
            ThreePointArc((20.580322524, 72.1779500266), (25.5803943425, 70.8382357318), (29.2407032288, 67.1779500274))
            Line((29.2407032288, 67.1779500274), (39.2407032288, 49.8574419517))
            ThreePointArc((39.2407032288, 49.8574419517), (40.2397074539, 47.4456324028), (40.580449191, 44.8574419517))
            ThreePointArc((40.580449191, 44.8574419517), (40.2397074539, 42.2692515007), (39.2407032288, 39.8574419517))
            Line((39.2407032288, 39.8574419517), (29.2407032288, 22.536933876))
            ThreePointArc((29.2407032288, 22.536933876), (25.5803943425, 18.8766481716), (20.580322524, 17.5369338768))
            Line((20.580322524, 17.5369338768), (0.6515026818, 17.5371863092))
            ThreePointArc((0.6515026818, 17.5371863092), (0.580322524, 17.5369338768), (0.5091423726, 17.5371881124))
            Line((0.5091423726, 17.5371881124), (-19.3190141671, 17.5374392696))
            ThreePointArc((-19.3190141671, 17.5374392696), (-19.419677476, 17.5369338768), (-19.520340772, 17.5374418198))
            Line((-19.520340772, 17.5374418198), (-39.2963913838, 17.537692317))
            ThreePointArc((-39.2963913838, 17.537692317), (-44.3661253963, 18.8460536069), (-48.0798048469, 22.536933876))
            Line((-48.0798048469, 22.536933876), (-58.0798048469, 39.8574419517))
        make_face(mode=Mode.SUBTRACT)
    extrude(amount=F2_DEPTH)


solid = Compound([f1.part, f1b.part, f1c.part, f1d.part, f1e.part, f1f.part, f1g.part, f1h.part, f1i.part, f1j.part, f1k.part, f2.part])
